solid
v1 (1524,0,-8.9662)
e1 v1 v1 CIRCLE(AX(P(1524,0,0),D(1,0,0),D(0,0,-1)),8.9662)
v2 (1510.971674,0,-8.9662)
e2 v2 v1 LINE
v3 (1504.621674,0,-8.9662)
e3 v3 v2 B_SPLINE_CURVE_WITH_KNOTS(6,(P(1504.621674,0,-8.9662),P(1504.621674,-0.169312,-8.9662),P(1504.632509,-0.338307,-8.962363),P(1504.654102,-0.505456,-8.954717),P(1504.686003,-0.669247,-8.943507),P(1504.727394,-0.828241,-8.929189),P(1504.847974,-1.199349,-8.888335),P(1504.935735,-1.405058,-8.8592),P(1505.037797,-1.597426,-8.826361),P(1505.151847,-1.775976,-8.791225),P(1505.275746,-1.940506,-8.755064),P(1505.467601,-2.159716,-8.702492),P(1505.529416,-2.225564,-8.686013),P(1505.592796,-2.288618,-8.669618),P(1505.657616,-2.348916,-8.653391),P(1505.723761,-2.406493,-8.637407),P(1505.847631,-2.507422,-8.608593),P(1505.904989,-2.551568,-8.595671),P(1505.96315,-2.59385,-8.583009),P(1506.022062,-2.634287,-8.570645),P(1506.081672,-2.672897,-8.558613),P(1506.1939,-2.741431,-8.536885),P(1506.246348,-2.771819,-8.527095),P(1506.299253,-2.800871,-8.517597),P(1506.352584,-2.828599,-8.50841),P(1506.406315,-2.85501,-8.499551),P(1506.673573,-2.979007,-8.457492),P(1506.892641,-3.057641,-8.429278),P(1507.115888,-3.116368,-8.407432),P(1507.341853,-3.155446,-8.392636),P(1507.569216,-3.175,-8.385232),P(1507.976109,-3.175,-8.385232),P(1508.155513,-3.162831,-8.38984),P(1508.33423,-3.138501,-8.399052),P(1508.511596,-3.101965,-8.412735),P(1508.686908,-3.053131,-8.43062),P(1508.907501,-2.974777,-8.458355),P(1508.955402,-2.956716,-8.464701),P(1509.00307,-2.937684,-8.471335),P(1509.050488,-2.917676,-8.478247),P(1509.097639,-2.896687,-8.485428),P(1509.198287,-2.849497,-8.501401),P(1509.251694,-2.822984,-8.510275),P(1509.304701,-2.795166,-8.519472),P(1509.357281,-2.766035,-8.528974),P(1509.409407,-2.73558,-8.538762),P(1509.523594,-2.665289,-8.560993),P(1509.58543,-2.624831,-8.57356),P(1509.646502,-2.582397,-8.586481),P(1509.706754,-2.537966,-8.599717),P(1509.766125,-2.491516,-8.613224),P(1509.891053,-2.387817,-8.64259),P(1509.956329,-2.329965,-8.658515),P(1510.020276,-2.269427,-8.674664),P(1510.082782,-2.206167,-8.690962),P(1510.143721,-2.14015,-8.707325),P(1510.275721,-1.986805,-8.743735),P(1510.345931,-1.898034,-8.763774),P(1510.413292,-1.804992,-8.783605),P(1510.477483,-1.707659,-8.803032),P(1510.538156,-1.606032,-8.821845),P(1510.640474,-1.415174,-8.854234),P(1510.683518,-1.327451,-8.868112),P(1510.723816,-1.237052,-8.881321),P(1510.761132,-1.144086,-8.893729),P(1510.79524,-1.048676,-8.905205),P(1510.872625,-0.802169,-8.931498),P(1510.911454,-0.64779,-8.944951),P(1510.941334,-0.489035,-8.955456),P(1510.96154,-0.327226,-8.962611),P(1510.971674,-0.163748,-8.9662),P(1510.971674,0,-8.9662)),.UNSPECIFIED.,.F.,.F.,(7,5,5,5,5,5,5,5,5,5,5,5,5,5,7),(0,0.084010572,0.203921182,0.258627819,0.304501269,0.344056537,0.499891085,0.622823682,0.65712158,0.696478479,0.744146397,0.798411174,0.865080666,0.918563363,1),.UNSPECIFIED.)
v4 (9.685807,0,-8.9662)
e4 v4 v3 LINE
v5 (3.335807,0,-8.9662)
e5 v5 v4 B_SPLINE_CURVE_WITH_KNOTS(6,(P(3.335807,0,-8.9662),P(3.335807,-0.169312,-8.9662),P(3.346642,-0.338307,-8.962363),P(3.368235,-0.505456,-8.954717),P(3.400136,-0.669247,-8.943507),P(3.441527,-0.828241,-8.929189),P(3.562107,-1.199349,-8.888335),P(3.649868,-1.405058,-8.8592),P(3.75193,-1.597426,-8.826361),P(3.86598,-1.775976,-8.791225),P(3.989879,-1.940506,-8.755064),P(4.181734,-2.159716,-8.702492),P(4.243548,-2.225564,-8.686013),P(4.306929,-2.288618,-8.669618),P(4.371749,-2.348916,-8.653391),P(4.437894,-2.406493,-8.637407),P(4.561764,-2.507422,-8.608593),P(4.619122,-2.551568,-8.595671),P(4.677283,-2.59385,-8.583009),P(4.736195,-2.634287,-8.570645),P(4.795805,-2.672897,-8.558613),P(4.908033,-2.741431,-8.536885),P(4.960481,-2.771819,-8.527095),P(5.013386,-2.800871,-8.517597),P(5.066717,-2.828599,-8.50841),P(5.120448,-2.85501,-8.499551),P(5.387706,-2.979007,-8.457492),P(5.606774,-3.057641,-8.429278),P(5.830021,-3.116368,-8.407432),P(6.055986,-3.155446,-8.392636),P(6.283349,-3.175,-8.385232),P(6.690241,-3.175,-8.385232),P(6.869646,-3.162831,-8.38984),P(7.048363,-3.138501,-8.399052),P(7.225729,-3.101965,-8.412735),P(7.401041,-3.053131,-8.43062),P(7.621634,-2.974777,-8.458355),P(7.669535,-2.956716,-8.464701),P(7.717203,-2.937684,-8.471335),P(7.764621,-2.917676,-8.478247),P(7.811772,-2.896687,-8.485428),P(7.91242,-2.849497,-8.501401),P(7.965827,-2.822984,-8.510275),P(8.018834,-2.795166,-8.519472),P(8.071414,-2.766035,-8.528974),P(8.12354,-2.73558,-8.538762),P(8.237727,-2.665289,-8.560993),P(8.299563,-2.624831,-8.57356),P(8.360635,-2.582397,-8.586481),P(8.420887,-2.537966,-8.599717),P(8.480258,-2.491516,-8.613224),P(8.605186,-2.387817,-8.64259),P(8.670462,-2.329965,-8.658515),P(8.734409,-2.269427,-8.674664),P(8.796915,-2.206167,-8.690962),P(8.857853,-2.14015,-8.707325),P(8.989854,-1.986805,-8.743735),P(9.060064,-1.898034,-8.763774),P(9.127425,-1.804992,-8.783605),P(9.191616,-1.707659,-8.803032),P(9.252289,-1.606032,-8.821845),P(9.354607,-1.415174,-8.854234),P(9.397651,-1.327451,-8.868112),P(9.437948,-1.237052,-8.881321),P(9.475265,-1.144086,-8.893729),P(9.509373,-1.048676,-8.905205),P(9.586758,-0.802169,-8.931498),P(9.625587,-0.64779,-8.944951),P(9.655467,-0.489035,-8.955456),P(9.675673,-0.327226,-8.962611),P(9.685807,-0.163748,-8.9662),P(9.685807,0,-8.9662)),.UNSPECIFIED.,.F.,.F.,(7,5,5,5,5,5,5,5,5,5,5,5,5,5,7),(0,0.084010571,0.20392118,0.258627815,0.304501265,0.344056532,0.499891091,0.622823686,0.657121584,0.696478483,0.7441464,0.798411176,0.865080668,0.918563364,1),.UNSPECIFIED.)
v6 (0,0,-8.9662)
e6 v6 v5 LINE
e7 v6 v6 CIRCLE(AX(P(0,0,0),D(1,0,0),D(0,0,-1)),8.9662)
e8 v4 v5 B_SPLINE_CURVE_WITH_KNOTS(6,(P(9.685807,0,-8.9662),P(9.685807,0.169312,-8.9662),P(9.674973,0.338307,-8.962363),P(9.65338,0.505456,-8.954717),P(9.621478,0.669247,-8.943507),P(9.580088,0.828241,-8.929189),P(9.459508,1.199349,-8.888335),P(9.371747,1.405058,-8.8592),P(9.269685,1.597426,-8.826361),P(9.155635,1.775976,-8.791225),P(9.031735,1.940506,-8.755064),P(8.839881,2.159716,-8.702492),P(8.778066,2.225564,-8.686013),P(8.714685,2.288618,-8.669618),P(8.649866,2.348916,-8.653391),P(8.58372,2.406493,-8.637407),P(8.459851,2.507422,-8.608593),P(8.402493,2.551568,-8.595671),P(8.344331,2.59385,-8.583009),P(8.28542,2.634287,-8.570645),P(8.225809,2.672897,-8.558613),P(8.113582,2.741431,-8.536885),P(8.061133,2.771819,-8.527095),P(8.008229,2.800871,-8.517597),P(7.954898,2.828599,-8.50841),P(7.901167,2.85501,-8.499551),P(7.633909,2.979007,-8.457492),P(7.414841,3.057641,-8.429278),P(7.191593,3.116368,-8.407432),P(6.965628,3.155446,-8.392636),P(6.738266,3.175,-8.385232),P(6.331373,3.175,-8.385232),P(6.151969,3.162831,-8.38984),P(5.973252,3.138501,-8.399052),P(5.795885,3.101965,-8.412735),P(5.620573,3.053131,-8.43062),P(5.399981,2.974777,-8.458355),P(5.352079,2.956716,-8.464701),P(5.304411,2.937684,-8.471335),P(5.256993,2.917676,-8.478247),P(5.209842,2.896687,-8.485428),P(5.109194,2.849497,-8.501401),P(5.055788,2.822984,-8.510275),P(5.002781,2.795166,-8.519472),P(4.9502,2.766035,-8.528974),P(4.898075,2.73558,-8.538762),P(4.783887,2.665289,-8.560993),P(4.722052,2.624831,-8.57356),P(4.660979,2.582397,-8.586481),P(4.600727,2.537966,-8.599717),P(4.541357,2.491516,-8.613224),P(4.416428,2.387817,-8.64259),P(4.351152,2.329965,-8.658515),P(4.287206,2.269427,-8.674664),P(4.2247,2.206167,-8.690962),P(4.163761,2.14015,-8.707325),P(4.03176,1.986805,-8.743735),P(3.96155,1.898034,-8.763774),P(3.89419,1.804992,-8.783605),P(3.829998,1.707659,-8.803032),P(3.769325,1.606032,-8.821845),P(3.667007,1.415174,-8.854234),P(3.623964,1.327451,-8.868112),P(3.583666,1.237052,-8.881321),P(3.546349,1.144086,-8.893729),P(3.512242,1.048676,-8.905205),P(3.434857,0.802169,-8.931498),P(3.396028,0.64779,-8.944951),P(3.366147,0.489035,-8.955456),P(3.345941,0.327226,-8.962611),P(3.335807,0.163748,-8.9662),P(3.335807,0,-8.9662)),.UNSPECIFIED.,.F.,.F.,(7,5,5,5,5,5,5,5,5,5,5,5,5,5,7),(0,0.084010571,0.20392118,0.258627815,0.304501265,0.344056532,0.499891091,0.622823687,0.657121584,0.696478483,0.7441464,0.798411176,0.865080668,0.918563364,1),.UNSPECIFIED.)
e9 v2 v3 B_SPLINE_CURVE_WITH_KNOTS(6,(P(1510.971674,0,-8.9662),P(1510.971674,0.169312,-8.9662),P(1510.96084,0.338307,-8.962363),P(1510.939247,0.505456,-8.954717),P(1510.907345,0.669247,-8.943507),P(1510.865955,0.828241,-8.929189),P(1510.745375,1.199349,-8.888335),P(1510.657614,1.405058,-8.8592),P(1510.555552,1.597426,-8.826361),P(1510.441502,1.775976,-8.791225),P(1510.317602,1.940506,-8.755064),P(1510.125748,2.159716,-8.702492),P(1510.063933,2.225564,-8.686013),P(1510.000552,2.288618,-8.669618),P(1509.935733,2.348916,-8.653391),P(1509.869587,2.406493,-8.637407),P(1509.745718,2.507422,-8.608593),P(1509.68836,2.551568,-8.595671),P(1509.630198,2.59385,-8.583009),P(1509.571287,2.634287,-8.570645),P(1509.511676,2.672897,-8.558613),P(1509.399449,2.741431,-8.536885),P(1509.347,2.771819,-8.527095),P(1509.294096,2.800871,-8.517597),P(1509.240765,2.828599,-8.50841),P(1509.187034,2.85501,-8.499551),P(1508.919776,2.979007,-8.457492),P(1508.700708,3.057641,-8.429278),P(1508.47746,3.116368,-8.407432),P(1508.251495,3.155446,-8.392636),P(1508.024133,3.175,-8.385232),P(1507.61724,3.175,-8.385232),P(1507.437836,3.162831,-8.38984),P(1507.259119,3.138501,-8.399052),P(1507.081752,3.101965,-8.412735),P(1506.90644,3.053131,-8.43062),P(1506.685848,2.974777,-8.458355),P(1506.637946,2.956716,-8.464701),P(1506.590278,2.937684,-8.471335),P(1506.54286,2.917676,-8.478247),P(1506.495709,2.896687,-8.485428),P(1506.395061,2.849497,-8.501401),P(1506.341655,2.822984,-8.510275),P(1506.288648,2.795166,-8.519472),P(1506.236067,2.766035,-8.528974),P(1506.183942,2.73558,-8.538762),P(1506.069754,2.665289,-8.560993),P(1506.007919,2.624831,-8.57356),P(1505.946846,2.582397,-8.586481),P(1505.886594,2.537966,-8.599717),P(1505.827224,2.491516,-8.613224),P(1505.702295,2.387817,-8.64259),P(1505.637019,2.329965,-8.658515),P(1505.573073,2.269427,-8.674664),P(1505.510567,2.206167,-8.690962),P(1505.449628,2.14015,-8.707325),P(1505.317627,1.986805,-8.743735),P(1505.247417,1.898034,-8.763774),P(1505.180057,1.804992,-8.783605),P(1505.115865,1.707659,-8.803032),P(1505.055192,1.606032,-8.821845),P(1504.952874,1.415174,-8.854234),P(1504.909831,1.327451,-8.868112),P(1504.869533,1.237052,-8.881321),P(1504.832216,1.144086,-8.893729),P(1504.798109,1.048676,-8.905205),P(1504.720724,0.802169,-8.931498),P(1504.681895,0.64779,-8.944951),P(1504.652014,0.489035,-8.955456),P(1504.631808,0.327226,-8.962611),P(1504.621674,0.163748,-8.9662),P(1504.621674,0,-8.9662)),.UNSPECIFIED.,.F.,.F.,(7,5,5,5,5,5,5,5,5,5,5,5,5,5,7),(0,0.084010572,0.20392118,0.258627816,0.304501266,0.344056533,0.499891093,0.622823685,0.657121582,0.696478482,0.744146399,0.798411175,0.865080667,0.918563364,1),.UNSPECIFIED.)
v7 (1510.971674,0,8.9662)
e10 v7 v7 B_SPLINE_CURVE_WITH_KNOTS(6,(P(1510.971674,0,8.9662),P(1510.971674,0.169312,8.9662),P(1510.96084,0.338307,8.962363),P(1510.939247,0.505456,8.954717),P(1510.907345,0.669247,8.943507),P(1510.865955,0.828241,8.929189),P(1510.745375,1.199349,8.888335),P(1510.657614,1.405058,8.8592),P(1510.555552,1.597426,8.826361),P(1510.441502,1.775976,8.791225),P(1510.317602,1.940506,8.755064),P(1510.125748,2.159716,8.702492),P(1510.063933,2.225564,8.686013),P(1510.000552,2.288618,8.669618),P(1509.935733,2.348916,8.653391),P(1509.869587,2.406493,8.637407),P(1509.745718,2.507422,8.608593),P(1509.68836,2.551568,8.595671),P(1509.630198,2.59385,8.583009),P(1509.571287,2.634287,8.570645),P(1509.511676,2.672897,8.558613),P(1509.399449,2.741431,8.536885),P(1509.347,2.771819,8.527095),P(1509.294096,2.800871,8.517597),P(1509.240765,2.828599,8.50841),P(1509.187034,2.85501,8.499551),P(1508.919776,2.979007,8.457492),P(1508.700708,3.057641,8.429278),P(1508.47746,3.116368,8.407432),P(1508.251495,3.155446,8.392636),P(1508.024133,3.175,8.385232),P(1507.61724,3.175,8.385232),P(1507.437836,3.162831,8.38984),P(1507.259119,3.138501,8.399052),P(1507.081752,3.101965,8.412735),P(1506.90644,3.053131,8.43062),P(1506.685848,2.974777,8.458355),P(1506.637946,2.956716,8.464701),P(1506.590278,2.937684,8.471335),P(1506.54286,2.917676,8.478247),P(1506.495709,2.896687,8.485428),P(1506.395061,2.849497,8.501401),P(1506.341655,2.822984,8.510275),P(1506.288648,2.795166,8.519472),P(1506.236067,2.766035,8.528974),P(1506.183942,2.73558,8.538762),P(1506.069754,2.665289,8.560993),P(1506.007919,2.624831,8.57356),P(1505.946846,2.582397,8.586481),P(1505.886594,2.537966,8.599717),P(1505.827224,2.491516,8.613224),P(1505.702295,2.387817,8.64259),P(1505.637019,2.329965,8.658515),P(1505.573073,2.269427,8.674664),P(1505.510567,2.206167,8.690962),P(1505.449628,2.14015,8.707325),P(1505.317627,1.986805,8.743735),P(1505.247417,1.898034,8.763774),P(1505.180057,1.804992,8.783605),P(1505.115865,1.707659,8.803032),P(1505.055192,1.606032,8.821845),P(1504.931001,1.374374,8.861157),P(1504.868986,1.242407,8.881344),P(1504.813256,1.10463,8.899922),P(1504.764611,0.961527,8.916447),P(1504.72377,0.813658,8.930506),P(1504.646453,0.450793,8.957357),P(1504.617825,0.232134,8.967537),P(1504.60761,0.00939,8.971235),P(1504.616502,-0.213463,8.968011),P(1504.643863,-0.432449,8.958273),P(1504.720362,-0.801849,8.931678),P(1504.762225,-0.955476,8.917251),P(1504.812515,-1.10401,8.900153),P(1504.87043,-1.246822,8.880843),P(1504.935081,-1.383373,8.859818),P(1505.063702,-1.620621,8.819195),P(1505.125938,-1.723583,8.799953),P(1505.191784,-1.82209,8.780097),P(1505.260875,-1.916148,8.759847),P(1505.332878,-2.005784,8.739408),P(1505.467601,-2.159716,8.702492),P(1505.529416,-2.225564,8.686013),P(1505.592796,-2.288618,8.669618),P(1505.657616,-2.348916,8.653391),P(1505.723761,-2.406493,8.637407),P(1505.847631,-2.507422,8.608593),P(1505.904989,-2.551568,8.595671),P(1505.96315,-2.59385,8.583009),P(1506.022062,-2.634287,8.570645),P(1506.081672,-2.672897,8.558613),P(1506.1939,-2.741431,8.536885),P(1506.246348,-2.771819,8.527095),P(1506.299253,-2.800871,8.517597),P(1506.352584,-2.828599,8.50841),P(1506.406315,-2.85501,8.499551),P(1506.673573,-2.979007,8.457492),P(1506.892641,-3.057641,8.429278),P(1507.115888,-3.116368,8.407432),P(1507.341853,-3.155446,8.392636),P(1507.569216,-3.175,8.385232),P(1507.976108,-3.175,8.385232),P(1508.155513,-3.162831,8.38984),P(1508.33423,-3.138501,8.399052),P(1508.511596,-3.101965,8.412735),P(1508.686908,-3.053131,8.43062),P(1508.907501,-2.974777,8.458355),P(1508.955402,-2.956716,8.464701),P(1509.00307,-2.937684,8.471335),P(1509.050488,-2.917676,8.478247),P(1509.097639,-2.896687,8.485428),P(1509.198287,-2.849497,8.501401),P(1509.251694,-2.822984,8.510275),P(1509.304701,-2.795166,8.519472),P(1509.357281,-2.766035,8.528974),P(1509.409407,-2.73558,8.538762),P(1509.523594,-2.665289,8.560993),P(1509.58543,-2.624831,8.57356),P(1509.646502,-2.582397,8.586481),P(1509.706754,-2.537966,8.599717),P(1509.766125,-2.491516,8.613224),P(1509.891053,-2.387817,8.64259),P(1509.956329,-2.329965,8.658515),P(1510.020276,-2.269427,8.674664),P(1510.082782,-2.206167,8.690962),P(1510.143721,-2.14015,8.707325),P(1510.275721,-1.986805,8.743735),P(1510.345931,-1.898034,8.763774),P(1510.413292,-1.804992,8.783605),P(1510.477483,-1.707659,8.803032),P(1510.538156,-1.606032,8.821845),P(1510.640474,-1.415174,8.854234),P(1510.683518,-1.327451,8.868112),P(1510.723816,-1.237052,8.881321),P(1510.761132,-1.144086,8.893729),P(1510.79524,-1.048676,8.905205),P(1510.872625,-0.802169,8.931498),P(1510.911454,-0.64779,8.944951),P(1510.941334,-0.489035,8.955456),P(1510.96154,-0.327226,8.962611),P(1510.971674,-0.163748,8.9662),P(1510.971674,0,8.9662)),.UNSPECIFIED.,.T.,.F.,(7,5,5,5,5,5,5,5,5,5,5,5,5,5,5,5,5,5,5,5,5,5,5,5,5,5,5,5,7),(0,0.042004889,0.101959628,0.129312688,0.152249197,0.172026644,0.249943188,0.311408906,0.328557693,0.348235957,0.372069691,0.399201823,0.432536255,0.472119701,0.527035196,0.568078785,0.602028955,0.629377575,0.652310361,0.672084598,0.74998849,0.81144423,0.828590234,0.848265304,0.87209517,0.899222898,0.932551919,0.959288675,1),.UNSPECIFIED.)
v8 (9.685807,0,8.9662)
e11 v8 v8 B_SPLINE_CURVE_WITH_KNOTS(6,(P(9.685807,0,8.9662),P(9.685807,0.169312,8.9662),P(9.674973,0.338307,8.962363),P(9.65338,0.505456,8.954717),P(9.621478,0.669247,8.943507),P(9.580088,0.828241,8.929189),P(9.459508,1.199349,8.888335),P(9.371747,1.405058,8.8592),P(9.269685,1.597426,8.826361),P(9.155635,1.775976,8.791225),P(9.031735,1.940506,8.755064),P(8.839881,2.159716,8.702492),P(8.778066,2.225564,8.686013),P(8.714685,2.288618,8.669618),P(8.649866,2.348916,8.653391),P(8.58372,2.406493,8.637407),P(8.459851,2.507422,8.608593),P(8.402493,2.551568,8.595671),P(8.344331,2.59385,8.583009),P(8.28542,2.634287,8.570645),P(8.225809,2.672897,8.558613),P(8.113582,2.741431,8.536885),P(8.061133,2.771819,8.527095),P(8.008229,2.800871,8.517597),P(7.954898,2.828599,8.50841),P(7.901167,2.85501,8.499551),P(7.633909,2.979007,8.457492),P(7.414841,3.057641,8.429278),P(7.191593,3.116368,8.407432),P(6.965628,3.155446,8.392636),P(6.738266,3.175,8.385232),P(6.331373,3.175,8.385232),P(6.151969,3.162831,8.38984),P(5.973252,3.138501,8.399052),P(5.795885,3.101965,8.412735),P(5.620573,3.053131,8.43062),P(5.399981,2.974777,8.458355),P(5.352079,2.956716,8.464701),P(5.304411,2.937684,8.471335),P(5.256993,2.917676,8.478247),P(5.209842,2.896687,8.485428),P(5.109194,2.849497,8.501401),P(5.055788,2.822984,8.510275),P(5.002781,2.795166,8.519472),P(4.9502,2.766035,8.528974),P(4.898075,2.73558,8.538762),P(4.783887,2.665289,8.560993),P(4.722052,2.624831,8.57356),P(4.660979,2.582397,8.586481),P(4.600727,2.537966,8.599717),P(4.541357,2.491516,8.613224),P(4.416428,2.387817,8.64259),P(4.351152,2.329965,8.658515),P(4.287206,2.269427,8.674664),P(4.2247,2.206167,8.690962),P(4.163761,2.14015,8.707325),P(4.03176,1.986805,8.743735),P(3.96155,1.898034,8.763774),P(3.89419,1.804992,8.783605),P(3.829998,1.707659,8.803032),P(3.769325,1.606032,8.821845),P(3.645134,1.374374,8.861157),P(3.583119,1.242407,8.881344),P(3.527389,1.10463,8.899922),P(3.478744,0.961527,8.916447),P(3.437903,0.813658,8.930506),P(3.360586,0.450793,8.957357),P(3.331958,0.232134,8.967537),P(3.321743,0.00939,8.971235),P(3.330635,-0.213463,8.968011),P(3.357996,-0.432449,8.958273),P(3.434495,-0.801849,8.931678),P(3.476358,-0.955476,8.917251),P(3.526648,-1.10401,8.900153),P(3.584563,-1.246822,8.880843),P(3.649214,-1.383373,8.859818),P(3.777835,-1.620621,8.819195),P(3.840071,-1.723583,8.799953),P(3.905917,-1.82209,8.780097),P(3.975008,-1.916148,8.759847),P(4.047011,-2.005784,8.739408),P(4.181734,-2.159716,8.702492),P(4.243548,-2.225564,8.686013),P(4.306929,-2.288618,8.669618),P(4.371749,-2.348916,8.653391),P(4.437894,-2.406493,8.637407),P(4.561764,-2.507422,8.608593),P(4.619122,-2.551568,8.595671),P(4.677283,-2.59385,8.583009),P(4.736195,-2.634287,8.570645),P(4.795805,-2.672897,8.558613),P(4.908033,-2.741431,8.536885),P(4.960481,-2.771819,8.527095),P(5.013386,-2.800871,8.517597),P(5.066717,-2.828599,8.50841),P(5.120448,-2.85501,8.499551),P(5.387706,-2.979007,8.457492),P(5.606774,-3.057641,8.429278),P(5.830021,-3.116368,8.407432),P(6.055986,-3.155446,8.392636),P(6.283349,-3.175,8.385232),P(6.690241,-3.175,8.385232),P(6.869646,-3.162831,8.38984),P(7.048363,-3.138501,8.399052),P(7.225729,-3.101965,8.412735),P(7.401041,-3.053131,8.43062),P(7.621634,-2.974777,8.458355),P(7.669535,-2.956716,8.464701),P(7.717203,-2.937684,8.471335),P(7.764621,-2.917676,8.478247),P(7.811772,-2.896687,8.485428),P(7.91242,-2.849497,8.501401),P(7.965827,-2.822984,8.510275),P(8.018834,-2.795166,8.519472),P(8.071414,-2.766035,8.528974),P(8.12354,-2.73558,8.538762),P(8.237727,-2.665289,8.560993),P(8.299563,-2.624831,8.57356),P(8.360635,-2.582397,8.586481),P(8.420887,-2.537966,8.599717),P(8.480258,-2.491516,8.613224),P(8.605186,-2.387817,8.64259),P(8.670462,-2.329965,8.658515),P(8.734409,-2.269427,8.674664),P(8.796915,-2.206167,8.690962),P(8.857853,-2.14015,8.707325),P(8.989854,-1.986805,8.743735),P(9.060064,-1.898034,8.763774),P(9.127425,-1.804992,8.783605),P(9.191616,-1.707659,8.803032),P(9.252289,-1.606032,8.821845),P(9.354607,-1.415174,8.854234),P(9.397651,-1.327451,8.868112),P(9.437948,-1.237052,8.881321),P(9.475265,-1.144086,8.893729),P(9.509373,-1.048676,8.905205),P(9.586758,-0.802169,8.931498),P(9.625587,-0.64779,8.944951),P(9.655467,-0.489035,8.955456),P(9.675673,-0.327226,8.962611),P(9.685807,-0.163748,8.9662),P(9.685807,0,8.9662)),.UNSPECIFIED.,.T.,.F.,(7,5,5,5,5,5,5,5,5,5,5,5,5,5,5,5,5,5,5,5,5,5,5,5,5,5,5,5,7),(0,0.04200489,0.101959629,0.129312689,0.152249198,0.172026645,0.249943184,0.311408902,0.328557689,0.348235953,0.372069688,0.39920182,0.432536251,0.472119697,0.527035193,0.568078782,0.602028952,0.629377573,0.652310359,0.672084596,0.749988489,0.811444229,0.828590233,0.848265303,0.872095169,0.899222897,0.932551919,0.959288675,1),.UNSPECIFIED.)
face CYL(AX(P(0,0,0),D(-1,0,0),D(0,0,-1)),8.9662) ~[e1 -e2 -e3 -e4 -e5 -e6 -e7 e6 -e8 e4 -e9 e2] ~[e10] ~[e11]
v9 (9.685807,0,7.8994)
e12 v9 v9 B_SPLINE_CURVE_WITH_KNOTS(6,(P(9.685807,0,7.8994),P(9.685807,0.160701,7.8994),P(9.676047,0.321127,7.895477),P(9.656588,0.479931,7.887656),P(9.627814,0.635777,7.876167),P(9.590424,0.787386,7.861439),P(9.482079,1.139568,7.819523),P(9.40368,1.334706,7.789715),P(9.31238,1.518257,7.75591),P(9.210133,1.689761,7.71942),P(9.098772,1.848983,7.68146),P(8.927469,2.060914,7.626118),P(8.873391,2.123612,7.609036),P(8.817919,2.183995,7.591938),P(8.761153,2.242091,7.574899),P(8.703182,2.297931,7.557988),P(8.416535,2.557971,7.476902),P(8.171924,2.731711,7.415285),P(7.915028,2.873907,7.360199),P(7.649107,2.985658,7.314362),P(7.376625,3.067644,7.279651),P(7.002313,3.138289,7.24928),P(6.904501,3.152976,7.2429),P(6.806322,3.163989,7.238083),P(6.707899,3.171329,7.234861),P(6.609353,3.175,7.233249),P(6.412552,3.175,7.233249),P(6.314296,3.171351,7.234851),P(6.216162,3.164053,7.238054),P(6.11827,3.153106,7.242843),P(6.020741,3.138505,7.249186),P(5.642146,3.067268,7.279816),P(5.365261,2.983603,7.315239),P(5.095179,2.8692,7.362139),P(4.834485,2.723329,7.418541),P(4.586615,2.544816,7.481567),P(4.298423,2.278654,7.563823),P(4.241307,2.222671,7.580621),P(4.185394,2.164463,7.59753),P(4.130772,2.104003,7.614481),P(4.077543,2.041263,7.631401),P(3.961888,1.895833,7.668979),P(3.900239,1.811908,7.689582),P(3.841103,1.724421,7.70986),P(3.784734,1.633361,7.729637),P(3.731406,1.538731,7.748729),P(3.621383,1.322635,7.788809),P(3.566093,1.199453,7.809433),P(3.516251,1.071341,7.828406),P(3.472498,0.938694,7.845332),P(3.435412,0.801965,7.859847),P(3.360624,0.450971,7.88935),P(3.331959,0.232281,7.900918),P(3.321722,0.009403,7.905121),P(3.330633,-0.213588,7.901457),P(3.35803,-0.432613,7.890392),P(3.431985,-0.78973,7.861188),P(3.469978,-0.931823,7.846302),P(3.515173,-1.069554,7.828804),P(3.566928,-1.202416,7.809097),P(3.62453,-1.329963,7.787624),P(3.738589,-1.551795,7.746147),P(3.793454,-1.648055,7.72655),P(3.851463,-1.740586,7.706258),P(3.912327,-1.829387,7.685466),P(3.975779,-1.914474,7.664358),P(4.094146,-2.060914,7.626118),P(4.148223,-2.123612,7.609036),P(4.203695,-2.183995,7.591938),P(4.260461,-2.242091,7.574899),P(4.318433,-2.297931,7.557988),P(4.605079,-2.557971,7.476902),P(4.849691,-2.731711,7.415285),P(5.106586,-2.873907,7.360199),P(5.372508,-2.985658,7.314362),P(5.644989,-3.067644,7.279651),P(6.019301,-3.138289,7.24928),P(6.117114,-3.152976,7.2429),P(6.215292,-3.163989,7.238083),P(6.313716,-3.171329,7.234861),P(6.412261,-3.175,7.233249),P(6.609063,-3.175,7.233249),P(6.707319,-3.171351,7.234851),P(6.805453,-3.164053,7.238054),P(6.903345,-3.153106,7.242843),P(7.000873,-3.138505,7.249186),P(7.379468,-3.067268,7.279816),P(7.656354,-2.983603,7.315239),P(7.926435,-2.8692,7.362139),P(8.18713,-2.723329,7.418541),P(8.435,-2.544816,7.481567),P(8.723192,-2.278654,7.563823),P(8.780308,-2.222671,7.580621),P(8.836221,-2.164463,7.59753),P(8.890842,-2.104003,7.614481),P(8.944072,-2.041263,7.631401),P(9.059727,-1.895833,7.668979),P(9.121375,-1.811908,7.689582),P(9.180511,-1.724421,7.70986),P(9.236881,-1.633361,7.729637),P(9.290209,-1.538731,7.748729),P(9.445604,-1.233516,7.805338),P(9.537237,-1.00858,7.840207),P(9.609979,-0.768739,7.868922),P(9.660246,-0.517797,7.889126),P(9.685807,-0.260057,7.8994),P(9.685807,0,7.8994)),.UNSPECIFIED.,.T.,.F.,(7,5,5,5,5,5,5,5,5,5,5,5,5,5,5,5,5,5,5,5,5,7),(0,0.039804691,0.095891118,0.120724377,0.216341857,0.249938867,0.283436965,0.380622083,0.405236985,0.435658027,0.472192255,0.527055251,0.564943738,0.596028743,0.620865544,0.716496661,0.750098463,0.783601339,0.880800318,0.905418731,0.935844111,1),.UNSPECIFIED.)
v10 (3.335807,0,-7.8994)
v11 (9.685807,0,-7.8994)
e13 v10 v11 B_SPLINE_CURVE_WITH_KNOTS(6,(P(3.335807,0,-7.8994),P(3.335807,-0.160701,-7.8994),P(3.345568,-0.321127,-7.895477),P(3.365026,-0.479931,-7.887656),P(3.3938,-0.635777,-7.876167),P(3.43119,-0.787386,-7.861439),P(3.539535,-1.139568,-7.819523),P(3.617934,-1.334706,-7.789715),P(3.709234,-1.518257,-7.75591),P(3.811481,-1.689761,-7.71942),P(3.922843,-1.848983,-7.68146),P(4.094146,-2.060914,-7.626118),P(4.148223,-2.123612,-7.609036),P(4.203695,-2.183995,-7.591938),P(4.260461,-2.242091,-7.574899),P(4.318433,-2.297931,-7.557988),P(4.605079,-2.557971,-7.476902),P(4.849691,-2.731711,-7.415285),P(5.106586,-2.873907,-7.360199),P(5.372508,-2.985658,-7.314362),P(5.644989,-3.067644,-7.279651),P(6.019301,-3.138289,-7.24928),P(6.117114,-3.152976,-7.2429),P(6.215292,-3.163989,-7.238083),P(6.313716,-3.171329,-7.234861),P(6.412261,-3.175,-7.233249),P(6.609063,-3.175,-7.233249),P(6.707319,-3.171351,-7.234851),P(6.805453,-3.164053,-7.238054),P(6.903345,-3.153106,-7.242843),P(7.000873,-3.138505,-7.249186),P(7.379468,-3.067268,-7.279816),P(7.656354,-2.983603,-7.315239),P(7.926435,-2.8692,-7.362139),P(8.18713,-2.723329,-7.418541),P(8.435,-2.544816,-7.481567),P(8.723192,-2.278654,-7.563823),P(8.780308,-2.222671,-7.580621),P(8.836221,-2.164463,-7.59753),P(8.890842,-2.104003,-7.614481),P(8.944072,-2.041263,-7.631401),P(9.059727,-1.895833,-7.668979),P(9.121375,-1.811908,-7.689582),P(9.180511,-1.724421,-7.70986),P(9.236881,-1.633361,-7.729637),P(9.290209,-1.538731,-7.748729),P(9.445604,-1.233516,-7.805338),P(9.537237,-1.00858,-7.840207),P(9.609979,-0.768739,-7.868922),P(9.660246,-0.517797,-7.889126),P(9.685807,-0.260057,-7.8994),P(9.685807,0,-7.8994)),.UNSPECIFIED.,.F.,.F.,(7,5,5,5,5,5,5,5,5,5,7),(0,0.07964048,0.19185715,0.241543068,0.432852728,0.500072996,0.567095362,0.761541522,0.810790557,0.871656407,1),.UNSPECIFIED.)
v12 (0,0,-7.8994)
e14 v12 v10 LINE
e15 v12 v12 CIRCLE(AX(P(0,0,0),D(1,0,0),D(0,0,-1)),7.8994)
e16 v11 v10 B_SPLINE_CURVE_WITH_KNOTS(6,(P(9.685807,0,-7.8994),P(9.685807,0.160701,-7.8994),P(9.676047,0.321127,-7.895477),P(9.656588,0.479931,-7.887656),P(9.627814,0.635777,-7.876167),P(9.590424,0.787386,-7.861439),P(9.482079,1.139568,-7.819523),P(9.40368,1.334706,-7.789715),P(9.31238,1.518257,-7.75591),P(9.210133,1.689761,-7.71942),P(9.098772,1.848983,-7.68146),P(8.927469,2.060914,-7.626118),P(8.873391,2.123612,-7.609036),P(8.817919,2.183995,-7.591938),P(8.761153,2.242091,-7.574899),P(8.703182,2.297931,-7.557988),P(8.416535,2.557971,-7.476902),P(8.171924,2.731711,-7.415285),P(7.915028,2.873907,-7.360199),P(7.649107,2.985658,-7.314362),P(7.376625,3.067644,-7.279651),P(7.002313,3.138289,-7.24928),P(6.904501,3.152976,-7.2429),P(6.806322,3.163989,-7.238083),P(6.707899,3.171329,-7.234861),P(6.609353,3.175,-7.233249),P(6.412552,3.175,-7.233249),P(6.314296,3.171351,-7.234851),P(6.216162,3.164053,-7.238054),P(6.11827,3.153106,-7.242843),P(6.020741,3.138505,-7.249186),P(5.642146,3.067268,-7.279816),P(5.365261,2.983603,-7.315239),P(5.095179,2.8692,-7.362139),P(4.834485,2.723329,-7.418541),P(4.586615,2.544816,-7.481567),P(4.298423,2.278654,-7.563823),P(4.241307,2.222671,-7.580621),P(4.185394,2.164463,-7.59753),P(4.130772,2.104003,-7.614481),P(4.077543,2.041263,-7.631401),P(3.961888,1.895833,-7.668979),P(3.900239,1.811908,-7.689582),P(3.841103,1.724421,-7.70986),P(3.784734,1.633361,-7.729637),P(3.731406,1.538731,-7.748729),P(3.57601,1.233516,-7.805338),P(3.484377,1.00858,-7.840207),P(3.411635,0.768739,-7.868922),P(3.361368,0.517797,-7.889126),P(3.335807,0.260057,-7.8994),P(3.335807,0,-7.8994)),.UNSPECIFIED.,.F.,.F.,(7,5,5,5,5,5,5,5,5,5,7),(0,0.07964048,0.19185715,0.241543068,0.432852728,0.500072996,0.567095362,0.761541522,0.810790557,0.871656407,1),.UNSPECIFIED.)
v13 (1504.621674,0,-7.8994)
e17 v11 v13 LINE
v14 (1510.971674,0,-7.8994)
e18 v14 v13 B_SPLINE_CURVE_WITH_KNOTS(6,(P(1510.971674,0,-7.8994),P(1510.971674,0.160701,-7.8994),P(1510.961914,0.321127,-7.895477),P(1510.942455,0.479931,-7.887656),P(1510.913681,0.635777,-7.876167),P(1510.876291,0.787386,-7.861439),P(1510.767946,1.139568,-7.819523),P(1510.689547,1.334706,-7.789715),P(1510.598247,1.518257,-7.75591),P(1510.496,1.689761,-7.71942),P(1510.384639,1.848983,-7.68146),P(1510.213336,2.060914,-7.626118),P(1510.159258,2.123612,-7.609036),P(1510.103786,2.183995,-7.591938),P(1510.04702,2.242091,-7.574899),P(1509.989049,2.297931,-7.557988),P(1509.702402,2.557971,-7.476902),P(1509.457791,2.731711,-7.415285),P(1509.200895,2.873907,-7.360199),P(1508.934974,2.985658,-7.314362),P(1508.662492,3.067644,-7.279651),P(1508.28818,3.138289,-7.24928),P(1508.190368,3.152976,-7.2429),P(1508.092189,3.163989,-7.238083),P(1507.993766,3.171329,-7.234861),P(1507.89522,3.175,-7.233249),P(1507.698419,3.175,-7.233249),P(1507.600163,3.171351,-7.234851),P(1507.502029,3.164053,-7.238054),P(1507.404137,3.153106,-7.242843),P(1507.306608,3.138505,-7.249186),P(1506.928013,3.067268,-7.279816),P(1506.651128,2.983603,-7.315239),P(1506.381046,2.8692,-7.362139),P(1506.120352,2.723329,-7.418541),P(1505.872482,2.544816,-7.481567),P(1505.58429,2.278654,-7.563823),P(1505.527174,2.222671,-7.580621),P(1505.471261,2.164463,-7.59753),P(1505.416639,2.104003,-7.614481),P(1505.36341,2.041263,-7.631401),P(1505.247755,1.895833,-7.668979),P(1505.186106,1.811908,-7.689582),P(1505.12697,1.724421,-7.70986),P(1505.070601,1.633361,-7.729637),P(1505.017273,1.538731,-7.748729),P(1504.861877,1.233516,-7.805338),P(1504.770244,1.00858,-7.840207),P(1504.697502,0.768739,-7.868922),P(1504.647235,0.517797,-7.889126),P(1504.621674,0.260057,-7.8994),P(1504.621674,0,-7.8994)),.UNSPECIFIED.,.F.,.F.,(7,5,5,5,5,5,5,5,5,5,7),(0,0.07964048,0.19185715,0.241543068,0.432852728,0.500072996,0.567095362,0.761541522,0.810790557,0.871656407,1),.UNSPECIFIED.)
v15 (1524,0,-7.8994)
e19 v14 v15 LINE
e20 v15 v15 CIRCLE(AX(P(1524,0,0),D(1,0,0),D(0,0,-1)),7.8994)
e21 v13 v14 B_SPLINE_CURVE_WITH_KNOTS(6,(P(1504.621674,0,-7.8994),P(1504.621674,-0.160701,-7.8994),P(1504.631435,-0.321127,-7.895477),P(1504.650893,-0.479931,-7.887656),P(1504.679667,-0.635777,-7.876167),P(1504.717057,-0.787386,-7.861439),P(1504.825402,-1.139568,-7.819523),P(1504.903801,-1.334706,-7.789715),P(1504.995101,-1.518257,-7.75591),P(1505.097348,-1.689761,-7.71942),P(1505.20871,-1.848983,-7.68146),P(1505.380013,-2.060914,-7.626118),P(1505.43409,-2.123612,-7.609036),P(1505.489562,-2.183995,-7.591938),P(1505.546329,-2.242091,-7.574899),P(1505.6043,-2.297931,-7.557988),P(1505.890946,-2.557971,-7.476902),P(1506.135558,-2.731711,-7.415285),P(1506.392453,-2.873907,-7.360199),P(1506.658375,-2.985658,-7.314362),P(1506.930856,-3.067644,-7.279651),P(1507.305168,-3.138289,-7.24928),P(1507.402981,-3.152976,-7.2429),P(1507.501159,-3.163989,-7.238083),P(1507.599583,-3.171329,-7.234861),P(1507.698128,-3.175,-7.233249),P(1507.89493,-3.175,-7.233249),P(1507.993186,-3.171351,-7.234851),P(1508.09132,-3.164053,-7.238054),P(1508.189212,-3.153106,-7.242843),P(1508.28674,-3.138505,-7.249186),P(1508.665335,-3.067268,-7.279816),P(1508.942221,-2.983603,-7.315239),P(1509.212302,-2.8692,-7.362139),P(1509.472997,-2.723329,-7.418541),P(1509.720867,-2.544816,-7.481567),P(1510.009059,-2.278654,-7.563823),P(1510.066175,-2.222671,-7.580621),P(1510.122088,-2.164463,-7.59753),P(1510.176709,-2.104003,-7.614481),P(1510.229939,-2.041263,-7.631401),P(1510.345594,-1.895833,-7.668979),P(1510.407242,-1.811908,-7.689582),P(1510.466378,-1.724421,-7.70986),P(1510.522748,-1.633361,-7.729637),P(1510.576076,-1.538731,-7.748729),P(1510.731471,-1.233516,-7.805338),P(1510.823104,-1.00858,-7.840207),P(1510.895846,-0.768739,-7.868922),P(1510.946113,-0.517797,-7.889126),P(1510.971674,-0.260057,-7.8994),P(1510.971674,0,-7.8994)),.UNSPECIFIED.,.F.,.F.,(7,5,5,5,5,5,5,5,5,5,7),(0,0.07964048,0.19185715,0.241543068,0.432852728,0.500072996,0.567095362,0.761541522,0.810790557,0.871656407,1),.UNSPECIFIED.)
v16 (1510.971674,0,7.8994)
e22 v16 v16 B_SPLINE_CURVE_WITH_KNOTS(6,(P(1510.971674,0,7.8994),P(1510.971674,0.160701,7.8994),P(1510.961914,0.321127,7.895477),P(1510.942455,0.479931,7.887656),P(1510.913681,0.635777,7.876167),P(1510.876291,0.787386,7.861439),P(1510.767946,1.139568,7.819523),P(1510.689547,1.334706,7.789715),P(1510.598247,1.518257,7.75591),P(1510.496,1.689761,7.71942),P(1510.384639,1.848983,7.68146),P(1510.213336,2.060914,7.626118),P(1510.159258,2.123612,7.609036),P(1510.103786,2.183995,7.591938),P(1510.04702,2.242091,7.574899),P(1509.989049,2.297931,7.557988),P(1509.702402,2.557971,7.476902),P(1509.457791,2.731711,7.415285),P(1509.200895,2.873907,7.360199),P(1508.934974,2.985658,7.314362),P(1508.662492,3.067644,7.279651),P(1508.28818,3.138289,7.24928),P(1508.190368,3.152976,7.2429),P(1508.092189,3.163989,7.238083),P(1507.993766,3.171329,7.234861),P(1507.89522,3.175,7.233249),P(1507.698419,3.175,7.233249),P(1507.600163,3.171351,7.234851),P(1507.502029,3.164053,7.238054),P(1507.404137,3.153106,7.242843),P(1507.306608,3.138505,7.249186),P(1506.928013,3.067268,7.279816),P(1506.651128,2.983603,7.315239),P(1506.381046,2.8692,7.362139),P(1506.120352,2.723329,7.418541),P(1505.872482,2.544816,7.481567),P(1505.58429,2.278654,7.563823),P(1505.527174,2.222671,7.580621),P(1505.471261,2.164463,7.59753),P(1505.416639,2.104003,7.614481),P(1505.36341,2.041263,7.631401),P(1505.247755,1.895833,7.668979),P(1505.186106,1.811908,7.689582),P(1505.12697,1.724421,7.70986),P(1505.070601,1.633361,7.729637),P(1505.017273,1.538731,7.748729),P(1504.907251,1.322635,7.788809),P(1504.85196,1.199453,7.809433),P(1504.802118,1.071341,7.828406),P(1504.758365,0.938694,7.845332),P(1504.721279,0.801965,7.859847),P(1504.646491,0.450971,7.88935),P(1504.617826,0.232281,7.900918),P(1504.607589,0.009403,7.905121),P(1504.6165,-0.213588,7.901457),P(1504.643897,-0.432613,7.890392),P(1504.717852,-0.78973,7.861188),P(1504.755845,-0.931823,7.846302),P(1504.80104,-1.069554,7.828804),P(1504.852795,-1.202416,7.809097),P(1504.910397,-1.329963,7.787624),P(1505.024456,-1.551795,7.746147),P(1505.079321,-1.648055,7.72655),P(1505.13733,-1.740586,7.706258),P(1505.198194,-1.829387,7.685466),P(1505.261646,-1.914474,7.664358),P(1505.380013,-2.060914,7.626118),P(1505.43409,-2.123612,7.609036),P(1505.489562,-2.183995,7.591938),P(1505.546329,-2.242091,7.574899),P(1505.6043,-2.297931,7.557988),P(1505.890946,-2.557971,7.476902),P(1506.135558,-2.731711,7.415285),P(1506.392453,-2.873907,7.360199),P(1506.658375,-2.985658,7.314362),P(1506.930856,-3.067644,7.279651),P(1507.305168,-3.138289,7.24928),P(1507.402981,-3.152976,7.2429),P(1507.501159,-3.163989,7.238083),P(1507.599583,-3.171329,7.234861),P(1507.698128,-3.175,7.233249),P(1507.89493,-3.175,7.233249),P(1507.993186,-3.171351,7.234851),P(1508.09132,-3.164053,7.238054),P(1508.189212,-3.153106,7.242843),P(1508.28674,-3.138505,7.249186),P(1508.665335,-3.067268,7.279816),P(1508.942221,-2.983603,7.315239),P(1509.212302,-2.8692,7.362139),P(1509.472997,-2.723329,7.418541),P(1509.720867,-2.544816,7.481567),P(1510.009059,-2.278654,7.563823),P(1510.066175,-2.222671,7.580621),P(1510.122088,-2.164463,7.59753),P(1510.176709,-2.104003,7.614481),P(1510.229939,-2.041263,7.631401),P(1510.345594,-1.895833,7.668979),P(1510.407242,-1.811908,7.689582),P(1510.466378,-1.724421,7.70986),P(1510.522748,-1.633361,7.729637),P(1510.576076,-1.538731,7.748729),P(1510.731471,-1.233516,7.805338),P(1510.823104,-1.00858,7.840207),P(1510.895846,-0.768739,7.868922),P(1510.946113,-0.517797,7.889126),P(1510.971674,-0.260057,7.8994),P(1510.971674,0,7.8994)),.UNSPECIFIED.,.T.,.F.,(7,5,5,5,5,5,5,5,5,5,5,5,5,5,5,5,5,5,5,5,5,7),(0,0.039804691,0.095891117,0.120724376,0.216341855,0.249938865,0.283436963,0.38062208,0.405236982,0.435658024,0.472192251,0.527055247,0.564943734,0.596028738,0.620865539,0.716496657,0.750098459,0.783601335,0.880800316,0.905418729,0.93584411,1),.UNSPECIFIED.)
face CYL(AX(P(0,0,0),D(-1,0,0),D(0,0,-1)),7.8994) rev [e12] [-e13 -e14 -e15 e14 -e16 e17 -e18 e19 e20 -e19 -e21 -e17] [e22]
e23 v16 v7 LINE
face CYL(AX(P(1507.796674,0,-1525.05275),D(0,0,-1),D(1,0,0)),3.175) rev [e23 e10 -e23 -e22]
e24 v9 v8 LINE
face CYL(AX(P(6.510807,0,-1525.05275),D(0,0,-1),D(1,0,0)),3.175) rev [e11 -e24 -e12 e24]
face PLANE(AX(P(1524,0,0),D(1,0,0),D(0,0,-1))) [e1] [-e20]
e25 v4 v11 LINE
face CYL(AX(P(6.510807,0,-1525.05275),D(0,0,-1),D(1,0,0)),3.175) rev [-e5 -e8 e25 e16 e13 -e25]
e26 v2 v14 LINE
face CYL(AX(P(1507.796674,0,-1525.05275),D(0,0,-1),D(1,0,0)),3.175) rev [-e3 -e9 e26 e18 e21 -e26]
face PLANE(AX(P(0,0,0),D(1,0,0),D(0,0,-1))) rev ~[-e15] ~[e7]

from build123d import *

# Parameters (mm, degrees)
SKETCH1_R               = 8.9662
SKETCH1_R_2             = 7.8994
BOSS_EXTRUDE1_DEPTH     = 1524
CUT_EXTRUDE1_DEPTH      = 1525.05275023
CUT_EXTRUDE1_DEPTH_BACK = 1525.05275023
SKETCH2_R               = 3.175


with BuildPart() as part:
    # Sketch1 → Boss-Extrude1 (new body)
    with BuildSketch(Plane(origin=(0, 0, 0), x_dir=(0, 0, -1), z_dir=(1, 0, 0))):
        Circle(SKETCH1_R)
        Circle(SKETCH1_R_2, mode=Mode.SUBTRACT)
    extrude(amount=BOSS_EXTRUDE1_DEPTH)

    # Sketch2 → Cut-Extrude1 (cut, two sides: drawn at the far end of the back side and taken through both)
    with BuildSketch(Plane.XY.offset(-CUT_EXTRUDE1_DEPTH_BACK)):
        with Locations((1507.796674242, 0)):
            Circle(SKETCH2_R)
        with Locations((6.510807218, 0)):
            Circle(SKETCH2_R)
    extrude(amount=CUT_EXTRUDE1_DEPTH + CUT_EXTRUDE1_DEPTH_BACK, mode=Mode.SUBTRACT)


solid = part.part
